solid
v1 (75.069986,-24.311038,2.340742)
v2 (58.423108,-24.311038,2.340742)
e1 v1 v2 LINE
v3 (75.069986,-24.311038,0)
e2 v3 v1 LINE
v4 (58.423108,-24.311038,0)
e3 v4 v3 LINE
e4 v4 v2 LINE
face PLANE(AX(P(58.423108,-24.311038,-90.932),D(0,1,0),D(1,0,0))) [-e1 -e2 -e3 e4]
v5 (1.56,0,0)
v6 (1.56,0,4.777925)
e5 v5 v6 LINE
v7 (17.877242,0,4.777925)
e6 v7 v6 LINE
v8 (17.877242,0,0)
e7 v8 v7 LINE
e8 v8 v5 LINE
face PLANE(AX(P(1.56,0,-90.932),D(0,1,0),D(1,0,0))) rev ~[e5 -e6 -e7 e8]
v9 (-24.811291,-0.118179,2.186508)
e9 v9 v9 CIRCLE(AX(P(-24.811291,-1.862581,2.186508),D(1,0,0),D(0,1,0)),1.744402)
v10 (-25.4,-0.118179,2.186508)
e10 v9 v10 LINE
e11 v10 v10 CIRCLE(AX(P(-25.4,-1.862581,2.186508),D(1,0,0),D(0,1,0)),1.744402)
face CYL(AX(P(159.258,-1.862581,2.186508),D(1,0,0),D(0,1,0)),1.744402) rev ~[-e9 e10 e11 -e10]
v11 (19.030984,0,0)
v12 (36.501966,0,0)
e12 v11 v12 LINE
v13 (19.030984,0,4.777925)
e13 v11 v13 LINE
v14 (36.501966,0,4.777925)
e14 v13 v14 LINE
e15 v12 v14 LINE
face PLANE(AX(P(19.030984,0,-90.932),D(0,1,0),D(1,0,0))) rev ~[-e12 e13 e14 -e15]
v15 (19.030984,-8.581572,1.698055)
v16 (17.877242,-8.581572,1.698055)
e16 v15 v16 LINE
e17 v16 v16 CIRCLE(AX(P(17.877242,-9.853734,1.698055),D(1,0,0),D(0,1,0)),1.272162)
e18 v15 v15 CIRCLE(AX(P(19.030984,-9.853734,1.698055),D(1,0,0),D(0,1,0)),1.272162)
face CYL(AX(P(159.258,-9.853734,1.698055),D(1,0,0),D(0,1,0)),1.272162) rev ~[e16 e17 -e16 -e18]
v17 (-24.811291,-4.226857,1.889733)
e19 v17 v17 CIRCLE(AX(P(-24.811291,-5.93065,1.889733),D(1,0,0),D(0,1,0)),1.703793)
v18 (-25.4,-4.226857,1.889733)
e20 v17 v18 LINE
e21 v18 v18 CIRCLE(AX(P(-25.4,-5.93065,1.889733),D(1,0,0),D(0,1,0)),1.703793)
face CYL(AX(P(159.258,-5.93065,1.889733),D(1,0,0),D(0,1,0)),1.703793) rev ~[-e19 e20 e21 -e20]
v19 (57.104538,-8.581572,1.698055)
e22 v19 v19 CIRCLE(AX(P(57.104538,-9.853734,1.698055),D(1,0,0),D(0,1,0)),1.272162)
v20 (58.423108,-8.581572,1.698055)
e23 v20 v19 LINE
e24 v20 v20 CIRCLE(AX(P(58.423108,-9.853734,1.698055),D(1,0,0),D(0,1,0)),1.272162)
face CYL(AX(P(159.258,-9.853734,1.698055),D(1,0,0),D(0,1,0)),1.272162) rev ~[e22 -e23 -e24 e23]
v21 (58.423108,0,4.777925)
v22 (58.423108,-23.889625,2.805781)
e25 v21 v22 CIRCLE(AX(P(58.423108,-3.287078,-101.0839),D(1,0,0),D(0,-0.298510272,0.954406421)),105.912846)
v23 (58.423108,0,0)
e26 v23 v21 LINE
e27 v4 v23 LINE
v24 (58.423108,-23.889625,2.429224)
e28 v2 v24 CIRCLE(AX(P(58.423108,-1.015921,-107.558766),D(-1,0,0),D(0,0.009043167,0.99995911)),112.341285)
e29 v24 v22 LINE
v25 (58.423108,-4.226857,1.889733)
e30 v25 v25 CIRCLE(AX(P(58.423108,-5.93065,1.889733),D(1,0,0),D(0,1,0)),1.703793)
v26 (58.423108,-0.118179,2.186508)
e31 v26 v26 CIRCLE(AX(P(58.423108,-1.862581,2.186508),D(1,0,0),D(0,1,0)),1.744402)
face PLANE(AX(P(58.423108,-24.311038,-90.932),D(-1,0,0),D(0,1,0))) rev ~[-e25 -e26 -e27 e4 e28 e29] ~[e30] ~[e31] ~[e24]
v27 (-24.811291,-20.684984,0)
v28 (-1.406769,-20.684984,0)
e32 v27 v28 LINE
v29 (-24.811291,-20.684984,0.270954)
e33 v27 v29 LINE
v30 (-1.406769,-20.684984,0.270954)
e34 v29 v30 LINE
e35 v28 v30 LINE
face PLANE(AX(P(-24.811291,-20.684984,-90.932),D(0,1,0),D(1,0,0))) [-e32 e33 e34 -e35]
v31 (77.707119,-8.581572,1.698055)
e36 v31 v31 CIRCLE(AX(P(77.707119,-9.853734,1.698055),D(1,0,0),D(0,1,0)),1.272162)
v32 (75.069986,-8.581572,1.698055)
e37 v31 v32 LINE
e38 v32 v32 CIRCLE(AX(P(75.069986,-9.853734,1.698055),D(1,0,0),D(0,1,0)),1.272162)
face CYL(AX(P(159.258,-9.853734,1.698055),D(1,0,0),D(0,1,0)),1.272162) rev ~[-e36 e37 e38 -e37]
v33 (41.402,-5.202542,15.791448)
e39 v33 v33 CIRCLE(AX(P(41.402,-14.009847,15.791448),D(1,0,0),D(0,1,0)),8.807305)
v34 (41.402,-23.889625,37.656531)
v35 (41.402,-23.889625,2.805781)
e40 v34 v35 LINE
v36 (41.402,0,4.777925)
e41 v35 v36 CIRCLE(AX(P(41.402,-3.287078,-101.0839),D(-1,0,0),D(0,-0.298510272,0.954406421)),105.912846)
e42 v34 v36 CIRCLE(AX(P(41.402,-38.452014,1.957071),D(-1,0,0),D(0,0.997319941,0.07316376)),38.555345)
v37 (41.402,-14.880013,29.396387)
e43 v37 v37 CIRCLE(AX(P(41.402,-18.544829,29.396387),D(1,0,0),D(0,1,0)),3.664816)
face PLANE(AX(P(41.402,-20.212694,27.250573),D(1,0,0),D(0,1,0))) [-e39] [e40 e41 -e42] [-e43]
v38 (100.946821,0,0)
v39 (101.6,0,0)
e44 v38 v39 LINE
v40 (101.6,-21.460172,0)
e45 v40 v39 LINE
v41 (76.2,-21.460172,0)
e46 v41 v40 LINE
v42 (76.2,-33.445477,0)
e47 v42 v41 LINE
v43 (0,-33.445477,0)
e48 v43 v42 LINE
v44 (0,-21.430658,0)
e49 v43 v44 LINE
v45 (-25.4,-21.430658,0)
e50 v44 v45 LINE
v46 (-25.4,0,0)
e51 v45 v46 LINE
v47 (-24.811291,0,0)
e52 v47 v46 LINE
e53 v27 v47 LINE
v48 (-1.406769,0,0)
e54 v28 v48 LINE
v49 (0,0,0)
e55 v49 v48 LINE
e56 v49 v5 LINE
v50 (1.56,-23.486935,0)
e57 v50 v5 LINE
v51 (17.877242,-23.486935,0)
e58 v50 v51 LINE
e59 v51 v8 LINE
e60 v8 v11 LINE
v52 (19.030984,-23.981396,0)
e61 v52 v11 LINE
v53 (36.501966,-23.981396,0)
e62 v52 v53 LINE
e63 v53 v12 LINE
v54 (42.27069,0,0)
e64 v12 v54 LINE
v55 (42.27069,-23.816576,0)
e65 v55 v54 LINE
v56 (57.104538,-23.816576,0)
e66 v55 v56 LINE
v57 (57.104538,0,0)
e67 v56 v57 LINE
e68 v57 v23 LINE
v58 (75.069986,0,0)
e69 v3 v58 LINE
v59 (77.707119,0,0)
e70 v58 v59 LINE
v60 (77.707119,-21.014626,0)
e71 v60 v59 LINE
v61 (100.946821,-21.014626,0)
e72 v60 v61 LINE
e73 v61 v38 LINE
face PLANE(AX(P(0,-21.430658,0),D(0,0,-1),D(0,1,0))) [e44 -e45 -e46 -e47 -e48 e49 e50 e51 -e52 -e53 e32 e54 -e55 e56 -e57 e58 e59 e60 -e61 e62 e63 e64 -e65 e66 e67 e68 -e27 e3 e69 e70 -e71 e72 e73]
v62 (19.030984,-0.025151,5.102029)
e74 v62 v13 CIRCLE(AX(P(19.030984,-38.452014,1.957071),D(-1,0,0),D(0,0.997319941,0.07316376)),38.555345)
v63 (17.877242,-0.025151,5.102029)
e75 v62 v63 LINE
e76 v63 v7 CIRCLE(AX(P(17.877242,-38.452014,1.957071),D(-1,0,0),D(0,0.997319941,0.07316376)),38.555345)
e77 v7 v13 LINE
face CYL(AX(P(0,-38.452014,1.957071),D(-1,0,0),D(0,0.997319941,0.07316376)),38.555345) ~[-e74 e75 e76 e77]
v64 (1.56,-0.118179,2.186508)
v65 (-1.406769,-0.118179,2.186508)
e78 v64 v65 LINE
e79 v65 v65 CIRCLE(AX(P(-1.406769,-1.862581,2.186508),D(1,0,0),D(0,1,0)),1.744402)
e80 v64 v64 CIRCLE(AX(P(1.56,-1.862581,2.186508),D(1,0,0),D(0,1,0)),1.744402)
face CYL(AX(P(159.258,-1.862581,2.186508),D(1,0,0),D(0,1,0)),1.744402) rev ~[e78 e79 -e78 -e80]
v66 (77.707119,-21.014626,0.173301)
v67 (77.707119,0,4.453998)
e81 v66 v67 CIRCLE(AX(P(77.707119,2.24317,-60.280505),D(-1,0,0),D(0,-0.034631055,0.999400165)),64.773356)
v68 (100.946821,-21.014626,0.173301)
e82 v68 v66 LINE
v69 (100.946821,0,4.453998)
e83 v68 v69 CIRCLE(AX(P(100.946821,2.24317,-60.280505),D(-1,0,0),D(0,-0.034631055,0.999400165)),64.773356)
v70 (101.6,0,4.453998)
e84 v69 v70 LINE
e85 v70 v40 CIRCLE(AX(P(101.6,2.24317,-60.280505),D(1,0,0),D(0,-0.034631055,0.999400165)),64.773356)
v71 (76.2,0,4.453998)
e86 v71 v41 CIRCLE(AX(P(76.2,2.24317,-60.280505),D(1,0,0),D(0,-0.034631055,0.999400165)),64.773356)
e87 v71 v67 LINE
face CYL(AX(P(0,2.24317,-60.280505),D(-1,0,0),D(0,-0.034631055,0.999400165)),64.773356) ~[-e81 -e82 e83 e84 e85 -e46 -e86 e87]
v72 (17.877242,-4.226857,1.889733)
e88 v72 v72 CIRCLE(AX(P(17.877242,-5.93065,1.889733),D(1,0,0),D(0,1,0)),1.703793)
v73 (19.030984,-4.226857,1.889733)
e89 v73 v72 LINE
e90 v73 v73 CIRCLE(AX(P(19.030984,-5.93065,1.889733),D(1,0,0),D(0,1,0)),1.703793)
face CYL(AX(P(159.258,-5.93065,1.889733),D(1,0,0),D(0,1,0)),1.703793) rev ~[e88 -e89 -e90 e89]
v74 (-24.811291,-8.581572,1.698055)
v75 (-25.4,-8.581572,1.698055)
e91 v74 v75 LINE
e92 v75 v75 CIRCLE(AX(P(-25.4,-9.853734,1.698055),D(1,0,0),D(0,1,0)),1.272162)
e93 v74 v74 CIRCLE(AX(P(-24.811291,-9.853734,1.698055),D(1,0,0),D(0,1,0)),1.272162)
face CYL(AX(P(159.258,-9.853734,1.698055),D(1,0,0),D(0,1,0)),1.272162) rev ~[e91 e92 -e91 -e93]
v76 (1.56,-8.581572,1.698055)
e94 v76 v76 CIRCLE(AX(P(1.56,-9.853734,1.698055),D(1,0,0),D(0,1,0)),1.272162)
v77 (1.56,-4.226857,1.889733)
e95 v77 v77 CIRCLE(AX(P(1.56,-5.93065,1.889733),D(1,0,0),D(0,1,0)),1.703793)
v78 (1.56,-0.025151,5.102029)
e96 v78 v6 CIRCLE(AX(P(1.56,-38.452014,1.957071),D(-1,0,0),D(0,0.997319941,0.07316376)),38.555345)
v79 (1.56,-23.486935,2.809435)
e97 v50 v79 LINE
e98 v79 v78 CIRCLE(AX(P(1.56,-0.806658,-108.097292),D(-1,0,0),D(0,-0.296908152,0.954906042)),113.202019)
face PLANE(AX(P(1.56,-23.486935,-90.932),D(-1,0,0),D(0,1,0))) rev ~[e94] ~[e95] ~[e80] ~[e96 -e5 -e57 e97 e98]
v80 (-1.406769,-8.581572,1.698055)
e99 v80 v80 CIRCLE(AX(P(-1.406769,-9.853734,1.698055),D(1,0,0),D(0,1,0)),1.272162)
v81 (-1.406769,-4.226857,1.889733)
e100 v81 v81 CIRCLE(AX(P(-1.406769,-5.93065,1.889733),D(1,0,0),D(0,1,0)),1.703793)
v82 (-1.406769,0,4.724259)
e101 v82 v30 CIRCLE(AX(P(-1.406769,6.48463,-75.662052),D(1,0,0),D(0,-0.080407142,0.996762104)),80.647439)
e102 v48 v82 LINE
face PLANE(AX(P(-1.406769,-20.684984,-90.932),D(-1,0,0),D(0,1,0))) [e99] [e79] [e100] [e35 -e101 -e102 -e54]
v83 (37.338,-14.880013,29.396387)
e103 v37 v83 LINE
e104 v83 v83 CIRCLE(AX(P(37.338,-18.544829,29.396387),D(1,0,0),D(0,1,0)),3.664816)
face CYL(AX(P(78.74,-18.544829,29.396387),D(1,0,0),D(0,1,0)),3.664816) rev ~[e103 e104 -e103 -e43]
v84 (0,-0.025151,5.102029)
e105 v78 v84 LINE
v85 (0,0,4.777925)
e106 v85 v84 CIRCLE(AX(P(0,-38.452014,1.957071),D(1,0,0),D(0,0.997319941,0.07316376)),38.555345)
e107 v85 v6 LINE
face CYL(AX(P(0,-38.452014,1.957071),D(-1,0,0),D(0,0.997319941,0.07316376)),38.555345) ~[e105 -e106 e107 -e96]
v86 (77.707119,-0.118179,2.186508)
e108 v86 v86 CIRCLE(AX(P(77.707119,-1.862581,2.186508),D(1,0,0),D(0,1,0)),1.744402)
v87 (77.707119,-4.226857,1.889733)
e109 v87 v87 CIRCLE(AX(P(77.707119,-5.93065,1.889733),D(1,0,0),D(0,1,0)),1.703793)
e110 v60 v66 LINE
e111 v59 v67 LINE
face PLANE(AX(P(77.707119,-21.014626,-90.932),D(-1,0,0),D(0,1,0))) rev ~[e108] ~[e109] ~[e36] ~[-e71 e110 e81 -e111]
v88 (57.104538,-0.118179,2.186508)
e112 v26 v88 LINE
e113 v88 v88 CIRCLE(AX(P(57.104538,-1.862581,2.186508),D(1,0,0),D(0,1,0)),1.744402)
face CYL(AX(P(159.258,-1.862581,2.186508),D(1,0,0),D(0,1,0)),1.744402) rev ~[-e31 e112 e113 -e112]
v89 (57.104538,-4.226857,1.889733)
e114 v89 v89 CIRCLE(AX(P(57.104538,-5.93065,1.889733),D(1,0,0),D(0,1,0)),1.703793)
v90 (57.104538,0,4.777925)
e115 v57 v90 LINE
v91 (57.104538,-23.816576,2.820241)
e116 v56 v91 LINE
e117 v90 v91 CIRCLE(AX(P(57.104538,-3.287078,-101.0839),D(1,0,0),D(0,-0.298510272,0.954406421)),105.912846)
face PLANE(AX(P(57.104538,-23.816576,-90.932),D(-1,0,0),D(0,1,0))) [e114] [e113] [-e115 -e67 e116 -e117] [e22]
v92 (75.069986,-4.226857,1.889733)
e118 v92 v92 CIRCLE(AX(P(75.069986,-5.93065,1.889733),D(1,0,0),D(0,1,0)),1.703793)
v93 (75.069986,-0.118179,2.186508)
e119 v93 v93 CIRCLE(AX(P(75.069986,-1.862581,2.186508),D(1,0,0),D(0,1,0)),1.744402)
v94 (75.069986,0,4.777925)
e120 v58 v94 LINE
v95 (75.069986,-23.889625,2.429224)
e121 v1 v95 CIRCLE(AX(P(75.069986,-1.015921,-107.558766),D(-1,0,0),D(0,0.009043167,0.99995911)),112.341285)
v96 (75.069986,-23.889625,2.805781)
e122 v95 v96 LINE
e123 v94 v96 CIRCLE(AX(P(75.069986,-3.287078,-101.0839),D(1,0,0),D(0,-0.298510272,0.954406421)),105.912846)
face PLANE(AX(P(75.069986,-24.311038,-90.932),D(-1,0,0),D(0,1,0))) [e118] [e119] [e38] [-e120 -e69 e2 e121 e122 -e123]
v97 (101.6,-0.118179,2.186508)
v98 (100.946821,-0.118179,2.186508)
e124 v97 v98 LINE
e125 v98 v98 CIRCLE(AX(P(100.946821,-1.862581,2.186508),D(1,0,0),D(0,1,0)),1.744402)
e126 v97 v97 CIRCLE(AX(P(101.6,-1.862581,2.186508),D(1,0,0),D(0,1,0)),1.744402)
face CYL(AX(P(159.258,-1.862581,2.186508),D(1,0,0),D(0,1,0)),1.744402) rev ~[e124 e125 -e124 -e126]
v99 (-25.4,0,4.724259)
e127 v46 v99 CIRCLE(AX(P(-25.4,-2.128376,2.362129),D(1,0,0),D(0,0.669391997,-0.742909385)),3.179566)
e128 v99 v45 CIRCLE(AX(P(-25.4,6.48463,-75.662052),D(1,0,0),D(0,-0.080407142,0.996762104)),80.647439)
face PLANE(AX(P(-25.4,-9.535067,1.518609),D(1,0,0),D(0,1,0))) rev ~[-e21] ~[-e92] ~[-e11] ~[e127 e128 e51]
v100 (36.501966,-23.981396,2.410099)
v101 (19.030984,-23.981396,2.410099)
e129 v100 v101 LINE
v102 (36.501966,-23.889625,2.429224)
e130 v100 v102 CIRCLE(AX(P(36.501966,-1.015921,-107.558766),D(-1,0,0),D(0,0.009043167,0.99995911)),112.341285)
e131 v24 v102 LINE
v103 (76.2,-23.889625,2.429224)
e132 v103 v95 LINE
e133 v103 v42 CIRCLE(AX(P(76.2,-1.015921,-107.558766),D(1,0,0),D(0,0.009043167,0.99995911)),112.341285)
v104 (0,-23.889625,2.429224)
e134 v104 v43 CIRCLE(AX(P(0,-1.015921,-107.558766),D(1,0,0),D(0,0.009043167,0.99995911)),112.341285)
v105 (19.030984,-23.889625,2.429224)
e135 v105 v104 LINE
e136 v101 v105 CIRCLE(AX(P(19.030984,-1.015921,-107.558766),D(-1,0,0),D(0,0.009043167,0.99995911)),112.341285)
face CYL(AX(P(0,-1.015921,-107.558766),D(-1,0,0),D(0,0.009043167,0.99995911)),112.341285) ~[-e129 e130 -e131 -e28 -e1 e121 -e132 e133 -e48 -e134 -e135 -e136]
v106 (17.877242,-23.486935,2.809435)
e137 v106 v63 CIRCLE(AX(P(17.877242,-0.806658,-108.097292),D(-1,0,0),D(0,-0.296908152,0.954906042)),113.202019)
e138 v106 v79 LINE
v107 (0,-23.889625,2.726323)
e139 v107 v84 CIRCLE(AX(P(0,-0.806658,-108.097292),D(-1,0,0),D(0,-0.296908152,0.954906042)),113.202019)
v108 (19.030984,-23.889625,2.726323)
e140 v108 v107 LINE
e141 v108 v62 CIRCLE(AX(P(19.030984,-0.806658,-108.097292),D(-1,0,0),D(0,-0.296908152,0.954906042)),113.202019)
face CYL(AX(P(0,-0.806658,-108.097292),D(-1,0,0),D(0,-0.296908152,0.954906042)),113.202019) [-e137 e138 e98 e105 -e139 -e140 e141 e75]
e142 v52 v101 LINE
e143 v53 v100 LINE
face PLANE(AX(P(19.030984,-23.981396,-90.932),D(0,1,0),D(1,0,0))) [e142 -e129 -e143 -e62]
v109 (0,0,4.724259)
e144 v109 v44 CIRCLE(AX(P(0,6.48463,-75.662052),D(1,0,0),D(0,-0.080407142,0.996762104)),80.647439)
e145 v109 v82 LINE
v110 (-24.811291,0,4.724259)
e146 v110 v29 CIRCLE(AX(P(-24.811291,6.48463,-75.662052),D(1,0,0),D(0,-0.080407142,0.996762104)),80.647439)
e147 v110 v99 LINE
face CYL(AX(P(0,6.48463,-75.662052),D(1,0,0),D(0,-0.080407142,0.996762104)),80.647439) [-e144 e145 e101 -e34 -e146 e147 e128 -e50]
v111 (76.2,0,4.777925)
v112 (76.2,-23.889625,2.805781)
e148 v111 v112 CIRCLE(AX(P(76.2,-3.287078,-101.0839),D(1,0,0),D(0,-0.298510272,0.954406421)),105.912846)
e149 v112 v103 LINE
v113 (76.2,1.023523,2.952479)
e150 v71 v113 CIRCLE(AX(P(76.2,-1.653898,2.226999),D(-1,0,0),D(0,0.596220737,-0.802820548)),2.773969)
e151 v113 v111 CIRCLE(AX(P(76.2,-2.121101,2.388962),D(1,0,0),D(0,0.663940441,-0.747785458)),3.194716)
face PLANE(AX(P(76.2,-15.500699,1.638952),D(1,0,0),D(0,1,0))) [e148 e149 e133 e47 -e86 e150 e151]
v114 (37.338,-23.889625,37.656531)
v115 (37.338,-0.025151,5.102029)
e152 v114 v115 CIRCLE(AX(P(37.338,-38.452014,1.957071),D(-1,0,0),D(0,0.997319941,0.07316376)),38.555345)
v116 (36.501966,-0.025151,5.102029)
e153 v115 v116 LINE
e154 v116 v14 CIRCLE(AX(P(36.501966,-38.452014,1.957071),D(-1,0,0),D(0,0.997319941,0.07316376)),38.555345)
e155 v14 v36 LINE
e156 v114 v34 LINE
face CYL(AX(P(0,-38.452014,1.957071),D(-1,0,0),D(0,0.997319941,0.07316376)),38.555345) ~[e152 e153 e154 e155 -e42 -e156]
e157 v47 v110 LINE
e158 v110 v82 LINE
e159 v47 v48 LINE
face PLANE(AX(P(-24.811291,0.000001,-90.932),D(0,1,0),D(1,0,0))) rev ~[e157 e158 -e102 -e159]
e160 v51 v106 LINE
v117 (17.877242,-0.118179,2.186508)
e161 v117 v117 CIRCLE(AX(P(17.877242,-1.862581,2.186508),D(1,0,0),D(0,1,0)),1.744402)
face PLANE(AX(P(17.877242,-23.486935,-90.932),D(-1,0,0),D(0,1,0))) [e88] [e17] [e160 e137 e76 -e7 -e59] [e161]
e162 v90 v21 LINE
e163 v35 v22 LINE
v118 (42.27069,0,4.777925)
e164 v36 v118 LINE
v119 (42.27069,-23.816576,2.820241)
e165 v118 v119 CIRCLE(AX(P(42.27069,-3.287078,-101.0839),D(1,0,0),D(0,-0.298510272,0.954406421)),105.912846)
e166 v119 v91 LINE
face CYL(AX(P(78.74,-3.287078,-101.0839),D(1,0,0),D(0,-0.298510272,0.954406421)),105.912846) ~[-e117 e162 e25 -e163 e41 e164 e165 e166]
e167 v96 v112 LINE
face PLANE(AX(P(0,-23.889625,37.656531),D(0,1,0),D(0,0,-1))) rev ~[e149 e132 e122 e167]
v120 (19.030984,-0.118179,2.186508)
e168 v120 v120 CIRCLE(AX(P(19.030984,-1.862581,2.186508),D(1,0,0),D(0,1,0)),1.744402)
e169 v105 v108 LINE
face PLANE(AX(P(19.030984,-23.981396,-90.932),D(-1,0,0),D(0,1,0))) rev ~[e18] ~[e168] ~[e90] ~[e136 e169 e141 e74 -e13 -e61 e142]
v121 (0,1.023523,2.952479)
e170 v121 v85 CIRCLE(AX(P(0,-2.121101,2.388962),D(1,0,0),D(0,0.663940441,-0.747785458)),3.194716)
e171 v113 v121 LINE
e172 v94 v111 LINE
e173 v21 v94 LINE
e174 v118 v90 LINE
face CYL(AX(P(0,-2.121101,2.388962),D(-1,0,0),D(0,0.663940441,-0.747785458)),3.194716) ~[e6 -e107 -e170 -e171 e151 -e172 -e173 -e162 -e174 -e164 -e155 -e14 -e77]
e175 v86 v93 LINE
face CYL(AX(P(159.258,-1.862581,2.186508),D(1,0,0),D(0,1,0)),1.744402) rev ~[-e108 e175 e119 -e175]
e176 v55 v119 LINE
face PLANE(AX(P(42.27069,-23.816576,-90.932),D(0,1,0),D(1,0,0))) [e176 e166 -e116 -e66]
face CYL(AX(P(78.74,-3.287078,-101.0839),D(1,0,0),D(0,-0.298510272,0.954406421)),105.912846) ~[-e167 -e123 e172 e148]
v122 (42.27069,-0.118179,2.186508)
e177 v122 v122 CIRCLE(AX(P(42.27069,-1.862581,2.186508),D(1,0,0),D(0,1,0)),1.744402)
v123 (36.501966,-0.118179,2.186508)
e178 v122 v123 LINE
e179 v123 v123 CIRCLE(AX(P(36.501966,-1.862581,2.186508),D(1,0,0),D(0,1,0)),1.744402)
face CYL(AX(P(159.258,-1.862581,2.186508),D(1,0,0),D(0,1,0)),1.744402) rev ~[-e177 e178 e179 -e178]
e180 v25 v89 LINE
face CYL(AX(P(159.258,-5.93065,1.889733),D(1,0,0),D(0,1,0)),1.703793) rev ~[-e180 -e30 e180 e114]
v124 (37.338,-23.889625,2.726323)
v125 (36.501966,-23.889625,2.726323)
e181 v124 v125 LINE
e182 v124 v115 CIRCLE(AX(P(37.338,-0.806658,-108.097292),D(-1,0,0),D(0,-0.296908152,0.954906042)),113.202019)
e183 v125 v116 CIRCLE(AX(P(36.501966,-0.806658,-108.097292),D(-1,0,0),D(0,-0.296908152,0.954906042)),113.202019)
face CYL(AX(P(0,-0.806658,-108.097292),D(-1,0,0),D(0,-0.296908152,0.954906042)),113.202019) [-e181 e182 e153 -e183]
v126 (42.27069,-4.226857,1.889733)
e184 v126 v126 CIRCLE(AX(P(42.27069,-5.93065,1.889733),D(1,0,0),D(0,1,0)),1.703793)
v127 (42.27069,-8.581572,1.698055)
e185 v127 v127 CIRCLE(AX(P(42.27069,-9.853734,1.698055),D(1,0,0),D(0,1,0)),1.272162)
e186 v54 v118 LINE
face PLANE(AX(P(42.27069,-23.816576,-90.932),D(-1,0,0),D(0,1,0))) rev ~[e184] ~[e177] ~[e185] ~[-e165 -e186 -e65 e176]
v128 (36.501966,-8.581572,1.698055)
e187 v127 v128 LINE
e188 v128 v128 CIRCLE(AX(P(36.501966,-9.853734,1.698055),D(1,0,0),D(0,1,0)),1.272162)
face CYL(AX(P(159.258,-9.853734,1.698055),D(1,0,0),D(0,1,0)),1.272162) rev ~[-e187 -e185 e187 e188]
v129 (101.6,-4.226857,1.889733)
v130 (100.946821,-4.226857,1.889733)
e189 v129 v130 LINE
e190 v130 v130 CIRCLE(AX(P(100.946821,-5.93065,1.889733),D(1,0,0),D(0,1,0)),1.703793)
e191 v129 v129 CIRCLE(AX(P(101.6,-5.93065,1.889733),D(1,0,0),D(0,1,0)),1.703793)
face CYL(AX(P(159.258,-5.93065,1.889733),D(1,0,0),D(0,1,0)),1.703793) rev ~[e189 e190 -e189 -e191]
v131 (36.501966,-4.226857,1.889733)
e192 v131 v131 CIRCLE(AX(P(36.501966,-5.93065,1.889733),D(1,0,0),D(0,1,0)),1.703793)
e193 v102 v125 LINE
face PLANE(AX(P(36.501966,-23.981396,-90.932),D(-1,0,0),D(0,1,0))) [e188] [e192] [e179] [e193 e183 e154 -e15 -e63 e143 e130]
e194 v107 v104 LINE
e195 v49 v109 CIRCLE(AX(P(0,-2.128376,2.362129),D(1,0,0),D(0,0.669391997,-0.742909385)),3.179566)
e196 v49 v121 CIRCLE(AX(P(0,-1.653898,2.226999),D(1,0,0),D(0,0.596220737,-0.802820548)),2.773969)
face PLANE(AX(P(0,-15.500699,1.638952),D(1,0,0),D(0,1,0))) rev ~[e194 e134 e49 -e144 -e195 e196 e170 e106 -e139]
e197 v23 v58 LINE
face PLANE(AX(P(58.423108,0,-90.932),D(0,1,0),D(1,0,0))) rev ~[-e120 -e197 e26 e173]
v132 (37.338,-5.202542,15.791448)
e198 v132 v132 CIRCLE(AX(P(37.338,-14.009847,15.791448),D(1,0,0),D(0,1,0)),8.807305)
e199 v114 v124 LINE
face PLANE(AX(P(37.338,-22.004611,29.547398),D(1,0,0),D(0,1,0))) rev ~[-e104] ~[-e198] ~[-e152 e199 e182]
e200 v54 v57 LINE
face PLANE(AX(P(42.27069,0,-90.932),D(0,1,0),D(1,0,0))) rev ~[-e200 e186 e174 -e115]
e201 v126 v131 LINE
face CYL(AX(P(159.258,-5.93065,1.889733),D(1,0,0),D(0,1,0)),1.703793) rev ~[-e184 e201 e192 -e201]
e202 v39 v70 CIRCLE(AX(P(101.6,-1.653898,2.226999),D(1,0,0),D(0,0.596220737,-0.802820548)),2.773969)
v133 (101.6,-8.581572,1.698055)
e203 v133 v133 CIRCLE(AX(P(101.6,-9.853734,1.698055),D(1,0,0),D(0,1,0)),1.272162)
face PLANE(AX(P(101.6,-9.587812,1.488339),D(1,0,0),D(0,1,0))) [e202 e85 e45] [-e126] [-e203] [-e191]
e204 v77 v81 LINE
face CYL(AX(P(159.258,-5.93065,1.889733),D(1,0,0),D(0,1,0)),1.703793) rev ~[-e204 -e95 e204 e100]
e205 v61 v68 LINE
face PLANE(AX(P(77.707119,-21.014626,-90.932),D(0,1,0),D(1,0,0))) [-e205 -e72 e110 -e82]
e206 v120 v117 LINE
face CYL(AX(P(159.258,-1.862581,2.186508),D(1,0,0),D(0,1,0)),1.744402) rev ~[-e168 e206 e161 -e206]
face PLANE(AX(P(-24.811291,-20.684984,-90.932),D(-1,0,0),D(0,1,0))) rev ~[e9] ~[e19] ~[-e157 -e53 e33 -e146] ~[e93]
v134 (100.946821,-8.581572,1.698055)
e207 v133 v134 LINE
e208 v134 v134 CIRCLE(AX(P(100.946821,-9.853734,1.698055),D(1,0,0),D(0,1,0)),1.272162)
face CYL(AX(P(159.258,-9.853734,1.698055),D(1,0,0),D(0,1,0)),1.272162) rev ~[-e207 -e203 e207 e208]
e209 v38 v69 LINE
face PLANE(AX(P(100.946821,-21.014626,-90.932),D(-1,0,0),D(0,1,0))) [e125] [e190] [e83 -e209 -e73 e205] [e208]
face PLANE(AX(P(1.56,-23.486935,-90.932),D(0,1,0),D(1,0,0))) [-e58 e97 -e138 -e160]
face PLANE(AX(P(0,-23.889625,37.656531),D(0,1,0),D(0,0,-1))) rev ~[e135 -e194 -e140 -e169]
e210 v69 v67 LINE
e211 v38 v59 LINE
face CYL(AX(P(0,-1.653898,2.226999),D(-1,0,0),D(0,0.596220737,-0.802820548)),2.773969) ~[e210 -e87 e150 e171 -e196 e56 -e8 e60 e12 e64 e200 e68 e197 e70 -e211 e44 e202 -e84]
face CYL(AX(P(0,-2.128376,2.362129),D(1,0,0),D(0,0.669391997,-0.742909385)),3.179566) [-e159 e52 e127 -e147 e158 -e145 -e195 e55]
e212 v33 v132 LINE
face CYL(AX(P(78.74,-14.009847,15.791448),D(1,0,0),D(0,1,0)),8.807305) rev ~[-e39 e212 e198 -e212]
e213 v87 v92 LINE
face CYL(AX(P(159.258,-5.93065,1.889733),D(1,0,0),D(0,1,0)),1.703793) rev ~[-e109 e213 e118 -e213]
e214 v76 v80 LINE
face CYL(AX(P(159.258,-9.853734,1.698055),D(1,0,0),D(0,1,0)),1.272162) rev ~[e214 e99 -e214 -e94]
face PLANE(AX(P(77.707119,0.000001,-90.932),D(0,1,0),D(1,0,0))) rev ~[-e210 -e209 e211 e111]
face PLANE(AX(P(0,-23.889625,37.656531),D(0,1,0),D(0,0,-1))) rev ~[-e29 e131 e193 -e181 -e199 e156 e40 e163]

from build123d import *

# Parameters (mm, degrees)
F1_DEPTH  = 76.2
F3_DEPTH  = 25.4
F5_DEPTH  = 101.6
F7_DEPTH  = 76.2
F10_DEPTH = 37.338
F12_DEPTH = 37.338
F13_R     = 8.807305
F14_DEPTH = 101.6
F15_R     = 3.664816
F16_DEPTH = 116.84
F18_R     = 1.744402
F19_DEPTH = 225.298
F20_R     = 1.703793
F21_DEPTH = 213.106
F22_R     = 1.272162
F23_DEPTH = 254
F25_W     = 23.404523
F25_H     = 20.684985
F26_DEPTH = 209.804
F27_W     = 23.239702
F27_H     = 21.014627
F28_DEPTH = 223.774
F29_W     = 16.646877
F29_H     = 24.311038
F30_DEPTH = 495.046
F31_W     = 16.317241
F31_H     = 23.486935
F32_DEPTH = 242.062
F33_W     = 17.470982
F33_H     = 23.981396
F34_DEPTH = 243.84
F35_W     = 14.833849
F35_H     = 23.816576
F36_DEPTH = 196.85


with BuildPart() as f1:
    # F0 (on Right) → F1 (new body)
    with BuildSketch(Plane.YZ):
        with BuildLine():
            Line((-33.445477, 0), (0, 0))
            ThreePointArc((0, 0), (1.073615, 2.388963), (0, 4.777925))
            ThreePointArc((0, 4.777925), (-16.903377, 3.653432), (-33.445477, 0))
        make_face()
    extrude(amount=F1_DEPTH)

    # F2 (on Right) → F3 (join)
    with BuildSketch(Plane.YZ):
        with BuildLine():
            Line((-21.430658, 0), (0, 0))
            ThreePointArc((0, 0), (1.05119, 2.362129), (0, 4.724259))
            ThreePointArc((0, 4.724259), (-10.876771, 3.094479), (-21.430658, 0))
        make_face()
    extrude(amount=-F3_DEPTH)

    # F4 (on Right) → F5 (join)
    with BuildSketch(Plane.YZ):
        with BuildLine():
            Line((-21.460172, 0), (0, 0))
            ThreePointArc((0, 0), (1.120071, 2.226999), (0, 4.453998))
            ThreePointArc((0, 4.453998), (-10.919842, 3.14128), (-21.460172, 0))
        make_face()
    extrude(amount=F5_DEPTH)

    # F6 (on Right) → F7 (join)
    with BuildSketch(Plane.YZ):
        with BuildLine():
            Line((-23.889625, 1.37669), (0, 4.777925))
            ThreePointArc((0, 4.777925), (-7.260951, 24.620526), (-23.889625, 37.656531))
            Line((-23.889625, 37.656531), (-23.889625, 1.37669))
        make_face()
    extrude(amount=F7_DEPTH)

    # F9 (on offset) → F10 (cut)
    with BuildSketch(Plane.YZ.offset(78.74)):
        with BuildLine():
            ThreePointArc((-34.90315, 0), (-17.651622, 3.850321), (0, 4.777925))
            ThreePointArc((0, 4.777925), (6.961202, 43.833079), (-31.663876, 52.881103))
            ThreePointArc((-31.663876, 52.881103), (-51.316385, 27.545169), (-34.90315, 0))
        make_face()
    extrude(amount=-F10_DEPTH, mode=Mode.SUBTRACT)

    # F11 (on Right) → F12 (cut)
    with BuildSketch(Plane.YZ):
        with BuildLine():
            ThreePointArc((-34.41726, 0), (-17.405812, 3.881122), (0, 5.101853))
            ThreePointArc((0, 5.101853), (12.801217, 34.08098), (-9.798795, 56.282341))
            ThreePointArc((-9.798795, 56.282341), (-55.391799, 42.699829), (-34.41726, 0))
        make_face()
    extrude(amount=F12_DEPTH, mode=Mode.SUBTRACT)

    # F13 (on offset) → F14 (cut)
    with BuildSketch(Plane.YZ.offset(78.74)):
        with Locations((-14.009847, 15.791448)):
            Circle(F13_R)
    extrude(amount=-F14_DEPTH, mode=Mode.SUBTRACT)

    # F15 (on offset) → F16 (cut)
    with BuildSketch(Plane.YZ.offset(78.74)):
        with Locations((-18.544829, 29.396387)):
            Circle(F15_R)
    extrude(amount=-F16_DEPTH, mode=Mode.SUBTRACT)

    # F18 (on offset) → F19 (cut)
    with BuildSketch(Plane.YZ.offset(159.258)):
        with Locations((-1.862581, 2.186508)):
            Circle(F18_R)
    extrude(amount=-F19_DEPTH, mode=Mode.SUBTRACT)

    # F20 (on offset) → F21 (cut)
    with BuildSketch(Plane.YZ.offset(159.258)):
        with Locations((-5.93065, 1.889733)):
            Circle(F20_R)
    extrude(amount=-F21_DEPTH, mode=Mode.SUBTRACT)

    # F22 (on offset) → F23 (cut)
    with BuildSketch(Plane.YZ.offset(159.258)):
        with Locations((-9.853734, 1.698055)):
            Circle(F22_R)
    extrude(amount=-F23_DEPTH, mode=Mode.SUBTRACT)

    # F25 (on offset) → F26 (cut)
    with BuildSketch(Plane.XY.offset(-90.932)):
        with Locations((-13.10903, -10.342492)):
            Rectangle(F25_W, F25_H)
    extrude(amount=F26_DEPTH, mode=Mode.SUBTRACT)

    # F27 (on offset) → F28 (cut)
    with BuildSketch(Plane.XY.offset(-90.932)):
        with Locations((89.32697, -10.507313)):
            Rectangle(F27_W, F27_H)
    extrude(amount=F28_DEPTH, mode=Mode.SUBTRACT)

    # F29 (on offset) → F30 (cut)
    with BuildSketch(Plane.XY.offset(-90.932)):
        with Locations((66.746547, -12.155519)):
            Rectangle(F29_W, F29_H)
    extrude(amount=F30_DEPTH, mode=Mode.SUBTRACT)

    # F31 (on offset) → F32 (cut)
    with BuildSketch(Plane.XY.offset(-90.932)):
        with Locations((9.718621, -11.743467)):
            Rectangle(F31_W, F31_H)
    extrude(amount=F32_DEPTH, mode=Mode.SUBTRACT)

    # F33 (on offset) → F34 (cut)
    with BuildSketch(Plane.XY.offset(-90.932)):
        with Locations((27.766475, -11.990698)):
            Rectangle(F33_W, F33_H)
    extrude(amount=F34_DEPTH, mode=Mode.SUBTRACT)

    # F35 (on offset) → F36 (cut)
    with BuildSketch(Plane.XY.offset(-90.932)):
        with Locations((49.687614, -11.908288)):
            Rectangle(F35_W, F35_H)
    extrude(amount=F36_DEPTH, mode=Mode.SUBTRACT)


solid = f1.part
